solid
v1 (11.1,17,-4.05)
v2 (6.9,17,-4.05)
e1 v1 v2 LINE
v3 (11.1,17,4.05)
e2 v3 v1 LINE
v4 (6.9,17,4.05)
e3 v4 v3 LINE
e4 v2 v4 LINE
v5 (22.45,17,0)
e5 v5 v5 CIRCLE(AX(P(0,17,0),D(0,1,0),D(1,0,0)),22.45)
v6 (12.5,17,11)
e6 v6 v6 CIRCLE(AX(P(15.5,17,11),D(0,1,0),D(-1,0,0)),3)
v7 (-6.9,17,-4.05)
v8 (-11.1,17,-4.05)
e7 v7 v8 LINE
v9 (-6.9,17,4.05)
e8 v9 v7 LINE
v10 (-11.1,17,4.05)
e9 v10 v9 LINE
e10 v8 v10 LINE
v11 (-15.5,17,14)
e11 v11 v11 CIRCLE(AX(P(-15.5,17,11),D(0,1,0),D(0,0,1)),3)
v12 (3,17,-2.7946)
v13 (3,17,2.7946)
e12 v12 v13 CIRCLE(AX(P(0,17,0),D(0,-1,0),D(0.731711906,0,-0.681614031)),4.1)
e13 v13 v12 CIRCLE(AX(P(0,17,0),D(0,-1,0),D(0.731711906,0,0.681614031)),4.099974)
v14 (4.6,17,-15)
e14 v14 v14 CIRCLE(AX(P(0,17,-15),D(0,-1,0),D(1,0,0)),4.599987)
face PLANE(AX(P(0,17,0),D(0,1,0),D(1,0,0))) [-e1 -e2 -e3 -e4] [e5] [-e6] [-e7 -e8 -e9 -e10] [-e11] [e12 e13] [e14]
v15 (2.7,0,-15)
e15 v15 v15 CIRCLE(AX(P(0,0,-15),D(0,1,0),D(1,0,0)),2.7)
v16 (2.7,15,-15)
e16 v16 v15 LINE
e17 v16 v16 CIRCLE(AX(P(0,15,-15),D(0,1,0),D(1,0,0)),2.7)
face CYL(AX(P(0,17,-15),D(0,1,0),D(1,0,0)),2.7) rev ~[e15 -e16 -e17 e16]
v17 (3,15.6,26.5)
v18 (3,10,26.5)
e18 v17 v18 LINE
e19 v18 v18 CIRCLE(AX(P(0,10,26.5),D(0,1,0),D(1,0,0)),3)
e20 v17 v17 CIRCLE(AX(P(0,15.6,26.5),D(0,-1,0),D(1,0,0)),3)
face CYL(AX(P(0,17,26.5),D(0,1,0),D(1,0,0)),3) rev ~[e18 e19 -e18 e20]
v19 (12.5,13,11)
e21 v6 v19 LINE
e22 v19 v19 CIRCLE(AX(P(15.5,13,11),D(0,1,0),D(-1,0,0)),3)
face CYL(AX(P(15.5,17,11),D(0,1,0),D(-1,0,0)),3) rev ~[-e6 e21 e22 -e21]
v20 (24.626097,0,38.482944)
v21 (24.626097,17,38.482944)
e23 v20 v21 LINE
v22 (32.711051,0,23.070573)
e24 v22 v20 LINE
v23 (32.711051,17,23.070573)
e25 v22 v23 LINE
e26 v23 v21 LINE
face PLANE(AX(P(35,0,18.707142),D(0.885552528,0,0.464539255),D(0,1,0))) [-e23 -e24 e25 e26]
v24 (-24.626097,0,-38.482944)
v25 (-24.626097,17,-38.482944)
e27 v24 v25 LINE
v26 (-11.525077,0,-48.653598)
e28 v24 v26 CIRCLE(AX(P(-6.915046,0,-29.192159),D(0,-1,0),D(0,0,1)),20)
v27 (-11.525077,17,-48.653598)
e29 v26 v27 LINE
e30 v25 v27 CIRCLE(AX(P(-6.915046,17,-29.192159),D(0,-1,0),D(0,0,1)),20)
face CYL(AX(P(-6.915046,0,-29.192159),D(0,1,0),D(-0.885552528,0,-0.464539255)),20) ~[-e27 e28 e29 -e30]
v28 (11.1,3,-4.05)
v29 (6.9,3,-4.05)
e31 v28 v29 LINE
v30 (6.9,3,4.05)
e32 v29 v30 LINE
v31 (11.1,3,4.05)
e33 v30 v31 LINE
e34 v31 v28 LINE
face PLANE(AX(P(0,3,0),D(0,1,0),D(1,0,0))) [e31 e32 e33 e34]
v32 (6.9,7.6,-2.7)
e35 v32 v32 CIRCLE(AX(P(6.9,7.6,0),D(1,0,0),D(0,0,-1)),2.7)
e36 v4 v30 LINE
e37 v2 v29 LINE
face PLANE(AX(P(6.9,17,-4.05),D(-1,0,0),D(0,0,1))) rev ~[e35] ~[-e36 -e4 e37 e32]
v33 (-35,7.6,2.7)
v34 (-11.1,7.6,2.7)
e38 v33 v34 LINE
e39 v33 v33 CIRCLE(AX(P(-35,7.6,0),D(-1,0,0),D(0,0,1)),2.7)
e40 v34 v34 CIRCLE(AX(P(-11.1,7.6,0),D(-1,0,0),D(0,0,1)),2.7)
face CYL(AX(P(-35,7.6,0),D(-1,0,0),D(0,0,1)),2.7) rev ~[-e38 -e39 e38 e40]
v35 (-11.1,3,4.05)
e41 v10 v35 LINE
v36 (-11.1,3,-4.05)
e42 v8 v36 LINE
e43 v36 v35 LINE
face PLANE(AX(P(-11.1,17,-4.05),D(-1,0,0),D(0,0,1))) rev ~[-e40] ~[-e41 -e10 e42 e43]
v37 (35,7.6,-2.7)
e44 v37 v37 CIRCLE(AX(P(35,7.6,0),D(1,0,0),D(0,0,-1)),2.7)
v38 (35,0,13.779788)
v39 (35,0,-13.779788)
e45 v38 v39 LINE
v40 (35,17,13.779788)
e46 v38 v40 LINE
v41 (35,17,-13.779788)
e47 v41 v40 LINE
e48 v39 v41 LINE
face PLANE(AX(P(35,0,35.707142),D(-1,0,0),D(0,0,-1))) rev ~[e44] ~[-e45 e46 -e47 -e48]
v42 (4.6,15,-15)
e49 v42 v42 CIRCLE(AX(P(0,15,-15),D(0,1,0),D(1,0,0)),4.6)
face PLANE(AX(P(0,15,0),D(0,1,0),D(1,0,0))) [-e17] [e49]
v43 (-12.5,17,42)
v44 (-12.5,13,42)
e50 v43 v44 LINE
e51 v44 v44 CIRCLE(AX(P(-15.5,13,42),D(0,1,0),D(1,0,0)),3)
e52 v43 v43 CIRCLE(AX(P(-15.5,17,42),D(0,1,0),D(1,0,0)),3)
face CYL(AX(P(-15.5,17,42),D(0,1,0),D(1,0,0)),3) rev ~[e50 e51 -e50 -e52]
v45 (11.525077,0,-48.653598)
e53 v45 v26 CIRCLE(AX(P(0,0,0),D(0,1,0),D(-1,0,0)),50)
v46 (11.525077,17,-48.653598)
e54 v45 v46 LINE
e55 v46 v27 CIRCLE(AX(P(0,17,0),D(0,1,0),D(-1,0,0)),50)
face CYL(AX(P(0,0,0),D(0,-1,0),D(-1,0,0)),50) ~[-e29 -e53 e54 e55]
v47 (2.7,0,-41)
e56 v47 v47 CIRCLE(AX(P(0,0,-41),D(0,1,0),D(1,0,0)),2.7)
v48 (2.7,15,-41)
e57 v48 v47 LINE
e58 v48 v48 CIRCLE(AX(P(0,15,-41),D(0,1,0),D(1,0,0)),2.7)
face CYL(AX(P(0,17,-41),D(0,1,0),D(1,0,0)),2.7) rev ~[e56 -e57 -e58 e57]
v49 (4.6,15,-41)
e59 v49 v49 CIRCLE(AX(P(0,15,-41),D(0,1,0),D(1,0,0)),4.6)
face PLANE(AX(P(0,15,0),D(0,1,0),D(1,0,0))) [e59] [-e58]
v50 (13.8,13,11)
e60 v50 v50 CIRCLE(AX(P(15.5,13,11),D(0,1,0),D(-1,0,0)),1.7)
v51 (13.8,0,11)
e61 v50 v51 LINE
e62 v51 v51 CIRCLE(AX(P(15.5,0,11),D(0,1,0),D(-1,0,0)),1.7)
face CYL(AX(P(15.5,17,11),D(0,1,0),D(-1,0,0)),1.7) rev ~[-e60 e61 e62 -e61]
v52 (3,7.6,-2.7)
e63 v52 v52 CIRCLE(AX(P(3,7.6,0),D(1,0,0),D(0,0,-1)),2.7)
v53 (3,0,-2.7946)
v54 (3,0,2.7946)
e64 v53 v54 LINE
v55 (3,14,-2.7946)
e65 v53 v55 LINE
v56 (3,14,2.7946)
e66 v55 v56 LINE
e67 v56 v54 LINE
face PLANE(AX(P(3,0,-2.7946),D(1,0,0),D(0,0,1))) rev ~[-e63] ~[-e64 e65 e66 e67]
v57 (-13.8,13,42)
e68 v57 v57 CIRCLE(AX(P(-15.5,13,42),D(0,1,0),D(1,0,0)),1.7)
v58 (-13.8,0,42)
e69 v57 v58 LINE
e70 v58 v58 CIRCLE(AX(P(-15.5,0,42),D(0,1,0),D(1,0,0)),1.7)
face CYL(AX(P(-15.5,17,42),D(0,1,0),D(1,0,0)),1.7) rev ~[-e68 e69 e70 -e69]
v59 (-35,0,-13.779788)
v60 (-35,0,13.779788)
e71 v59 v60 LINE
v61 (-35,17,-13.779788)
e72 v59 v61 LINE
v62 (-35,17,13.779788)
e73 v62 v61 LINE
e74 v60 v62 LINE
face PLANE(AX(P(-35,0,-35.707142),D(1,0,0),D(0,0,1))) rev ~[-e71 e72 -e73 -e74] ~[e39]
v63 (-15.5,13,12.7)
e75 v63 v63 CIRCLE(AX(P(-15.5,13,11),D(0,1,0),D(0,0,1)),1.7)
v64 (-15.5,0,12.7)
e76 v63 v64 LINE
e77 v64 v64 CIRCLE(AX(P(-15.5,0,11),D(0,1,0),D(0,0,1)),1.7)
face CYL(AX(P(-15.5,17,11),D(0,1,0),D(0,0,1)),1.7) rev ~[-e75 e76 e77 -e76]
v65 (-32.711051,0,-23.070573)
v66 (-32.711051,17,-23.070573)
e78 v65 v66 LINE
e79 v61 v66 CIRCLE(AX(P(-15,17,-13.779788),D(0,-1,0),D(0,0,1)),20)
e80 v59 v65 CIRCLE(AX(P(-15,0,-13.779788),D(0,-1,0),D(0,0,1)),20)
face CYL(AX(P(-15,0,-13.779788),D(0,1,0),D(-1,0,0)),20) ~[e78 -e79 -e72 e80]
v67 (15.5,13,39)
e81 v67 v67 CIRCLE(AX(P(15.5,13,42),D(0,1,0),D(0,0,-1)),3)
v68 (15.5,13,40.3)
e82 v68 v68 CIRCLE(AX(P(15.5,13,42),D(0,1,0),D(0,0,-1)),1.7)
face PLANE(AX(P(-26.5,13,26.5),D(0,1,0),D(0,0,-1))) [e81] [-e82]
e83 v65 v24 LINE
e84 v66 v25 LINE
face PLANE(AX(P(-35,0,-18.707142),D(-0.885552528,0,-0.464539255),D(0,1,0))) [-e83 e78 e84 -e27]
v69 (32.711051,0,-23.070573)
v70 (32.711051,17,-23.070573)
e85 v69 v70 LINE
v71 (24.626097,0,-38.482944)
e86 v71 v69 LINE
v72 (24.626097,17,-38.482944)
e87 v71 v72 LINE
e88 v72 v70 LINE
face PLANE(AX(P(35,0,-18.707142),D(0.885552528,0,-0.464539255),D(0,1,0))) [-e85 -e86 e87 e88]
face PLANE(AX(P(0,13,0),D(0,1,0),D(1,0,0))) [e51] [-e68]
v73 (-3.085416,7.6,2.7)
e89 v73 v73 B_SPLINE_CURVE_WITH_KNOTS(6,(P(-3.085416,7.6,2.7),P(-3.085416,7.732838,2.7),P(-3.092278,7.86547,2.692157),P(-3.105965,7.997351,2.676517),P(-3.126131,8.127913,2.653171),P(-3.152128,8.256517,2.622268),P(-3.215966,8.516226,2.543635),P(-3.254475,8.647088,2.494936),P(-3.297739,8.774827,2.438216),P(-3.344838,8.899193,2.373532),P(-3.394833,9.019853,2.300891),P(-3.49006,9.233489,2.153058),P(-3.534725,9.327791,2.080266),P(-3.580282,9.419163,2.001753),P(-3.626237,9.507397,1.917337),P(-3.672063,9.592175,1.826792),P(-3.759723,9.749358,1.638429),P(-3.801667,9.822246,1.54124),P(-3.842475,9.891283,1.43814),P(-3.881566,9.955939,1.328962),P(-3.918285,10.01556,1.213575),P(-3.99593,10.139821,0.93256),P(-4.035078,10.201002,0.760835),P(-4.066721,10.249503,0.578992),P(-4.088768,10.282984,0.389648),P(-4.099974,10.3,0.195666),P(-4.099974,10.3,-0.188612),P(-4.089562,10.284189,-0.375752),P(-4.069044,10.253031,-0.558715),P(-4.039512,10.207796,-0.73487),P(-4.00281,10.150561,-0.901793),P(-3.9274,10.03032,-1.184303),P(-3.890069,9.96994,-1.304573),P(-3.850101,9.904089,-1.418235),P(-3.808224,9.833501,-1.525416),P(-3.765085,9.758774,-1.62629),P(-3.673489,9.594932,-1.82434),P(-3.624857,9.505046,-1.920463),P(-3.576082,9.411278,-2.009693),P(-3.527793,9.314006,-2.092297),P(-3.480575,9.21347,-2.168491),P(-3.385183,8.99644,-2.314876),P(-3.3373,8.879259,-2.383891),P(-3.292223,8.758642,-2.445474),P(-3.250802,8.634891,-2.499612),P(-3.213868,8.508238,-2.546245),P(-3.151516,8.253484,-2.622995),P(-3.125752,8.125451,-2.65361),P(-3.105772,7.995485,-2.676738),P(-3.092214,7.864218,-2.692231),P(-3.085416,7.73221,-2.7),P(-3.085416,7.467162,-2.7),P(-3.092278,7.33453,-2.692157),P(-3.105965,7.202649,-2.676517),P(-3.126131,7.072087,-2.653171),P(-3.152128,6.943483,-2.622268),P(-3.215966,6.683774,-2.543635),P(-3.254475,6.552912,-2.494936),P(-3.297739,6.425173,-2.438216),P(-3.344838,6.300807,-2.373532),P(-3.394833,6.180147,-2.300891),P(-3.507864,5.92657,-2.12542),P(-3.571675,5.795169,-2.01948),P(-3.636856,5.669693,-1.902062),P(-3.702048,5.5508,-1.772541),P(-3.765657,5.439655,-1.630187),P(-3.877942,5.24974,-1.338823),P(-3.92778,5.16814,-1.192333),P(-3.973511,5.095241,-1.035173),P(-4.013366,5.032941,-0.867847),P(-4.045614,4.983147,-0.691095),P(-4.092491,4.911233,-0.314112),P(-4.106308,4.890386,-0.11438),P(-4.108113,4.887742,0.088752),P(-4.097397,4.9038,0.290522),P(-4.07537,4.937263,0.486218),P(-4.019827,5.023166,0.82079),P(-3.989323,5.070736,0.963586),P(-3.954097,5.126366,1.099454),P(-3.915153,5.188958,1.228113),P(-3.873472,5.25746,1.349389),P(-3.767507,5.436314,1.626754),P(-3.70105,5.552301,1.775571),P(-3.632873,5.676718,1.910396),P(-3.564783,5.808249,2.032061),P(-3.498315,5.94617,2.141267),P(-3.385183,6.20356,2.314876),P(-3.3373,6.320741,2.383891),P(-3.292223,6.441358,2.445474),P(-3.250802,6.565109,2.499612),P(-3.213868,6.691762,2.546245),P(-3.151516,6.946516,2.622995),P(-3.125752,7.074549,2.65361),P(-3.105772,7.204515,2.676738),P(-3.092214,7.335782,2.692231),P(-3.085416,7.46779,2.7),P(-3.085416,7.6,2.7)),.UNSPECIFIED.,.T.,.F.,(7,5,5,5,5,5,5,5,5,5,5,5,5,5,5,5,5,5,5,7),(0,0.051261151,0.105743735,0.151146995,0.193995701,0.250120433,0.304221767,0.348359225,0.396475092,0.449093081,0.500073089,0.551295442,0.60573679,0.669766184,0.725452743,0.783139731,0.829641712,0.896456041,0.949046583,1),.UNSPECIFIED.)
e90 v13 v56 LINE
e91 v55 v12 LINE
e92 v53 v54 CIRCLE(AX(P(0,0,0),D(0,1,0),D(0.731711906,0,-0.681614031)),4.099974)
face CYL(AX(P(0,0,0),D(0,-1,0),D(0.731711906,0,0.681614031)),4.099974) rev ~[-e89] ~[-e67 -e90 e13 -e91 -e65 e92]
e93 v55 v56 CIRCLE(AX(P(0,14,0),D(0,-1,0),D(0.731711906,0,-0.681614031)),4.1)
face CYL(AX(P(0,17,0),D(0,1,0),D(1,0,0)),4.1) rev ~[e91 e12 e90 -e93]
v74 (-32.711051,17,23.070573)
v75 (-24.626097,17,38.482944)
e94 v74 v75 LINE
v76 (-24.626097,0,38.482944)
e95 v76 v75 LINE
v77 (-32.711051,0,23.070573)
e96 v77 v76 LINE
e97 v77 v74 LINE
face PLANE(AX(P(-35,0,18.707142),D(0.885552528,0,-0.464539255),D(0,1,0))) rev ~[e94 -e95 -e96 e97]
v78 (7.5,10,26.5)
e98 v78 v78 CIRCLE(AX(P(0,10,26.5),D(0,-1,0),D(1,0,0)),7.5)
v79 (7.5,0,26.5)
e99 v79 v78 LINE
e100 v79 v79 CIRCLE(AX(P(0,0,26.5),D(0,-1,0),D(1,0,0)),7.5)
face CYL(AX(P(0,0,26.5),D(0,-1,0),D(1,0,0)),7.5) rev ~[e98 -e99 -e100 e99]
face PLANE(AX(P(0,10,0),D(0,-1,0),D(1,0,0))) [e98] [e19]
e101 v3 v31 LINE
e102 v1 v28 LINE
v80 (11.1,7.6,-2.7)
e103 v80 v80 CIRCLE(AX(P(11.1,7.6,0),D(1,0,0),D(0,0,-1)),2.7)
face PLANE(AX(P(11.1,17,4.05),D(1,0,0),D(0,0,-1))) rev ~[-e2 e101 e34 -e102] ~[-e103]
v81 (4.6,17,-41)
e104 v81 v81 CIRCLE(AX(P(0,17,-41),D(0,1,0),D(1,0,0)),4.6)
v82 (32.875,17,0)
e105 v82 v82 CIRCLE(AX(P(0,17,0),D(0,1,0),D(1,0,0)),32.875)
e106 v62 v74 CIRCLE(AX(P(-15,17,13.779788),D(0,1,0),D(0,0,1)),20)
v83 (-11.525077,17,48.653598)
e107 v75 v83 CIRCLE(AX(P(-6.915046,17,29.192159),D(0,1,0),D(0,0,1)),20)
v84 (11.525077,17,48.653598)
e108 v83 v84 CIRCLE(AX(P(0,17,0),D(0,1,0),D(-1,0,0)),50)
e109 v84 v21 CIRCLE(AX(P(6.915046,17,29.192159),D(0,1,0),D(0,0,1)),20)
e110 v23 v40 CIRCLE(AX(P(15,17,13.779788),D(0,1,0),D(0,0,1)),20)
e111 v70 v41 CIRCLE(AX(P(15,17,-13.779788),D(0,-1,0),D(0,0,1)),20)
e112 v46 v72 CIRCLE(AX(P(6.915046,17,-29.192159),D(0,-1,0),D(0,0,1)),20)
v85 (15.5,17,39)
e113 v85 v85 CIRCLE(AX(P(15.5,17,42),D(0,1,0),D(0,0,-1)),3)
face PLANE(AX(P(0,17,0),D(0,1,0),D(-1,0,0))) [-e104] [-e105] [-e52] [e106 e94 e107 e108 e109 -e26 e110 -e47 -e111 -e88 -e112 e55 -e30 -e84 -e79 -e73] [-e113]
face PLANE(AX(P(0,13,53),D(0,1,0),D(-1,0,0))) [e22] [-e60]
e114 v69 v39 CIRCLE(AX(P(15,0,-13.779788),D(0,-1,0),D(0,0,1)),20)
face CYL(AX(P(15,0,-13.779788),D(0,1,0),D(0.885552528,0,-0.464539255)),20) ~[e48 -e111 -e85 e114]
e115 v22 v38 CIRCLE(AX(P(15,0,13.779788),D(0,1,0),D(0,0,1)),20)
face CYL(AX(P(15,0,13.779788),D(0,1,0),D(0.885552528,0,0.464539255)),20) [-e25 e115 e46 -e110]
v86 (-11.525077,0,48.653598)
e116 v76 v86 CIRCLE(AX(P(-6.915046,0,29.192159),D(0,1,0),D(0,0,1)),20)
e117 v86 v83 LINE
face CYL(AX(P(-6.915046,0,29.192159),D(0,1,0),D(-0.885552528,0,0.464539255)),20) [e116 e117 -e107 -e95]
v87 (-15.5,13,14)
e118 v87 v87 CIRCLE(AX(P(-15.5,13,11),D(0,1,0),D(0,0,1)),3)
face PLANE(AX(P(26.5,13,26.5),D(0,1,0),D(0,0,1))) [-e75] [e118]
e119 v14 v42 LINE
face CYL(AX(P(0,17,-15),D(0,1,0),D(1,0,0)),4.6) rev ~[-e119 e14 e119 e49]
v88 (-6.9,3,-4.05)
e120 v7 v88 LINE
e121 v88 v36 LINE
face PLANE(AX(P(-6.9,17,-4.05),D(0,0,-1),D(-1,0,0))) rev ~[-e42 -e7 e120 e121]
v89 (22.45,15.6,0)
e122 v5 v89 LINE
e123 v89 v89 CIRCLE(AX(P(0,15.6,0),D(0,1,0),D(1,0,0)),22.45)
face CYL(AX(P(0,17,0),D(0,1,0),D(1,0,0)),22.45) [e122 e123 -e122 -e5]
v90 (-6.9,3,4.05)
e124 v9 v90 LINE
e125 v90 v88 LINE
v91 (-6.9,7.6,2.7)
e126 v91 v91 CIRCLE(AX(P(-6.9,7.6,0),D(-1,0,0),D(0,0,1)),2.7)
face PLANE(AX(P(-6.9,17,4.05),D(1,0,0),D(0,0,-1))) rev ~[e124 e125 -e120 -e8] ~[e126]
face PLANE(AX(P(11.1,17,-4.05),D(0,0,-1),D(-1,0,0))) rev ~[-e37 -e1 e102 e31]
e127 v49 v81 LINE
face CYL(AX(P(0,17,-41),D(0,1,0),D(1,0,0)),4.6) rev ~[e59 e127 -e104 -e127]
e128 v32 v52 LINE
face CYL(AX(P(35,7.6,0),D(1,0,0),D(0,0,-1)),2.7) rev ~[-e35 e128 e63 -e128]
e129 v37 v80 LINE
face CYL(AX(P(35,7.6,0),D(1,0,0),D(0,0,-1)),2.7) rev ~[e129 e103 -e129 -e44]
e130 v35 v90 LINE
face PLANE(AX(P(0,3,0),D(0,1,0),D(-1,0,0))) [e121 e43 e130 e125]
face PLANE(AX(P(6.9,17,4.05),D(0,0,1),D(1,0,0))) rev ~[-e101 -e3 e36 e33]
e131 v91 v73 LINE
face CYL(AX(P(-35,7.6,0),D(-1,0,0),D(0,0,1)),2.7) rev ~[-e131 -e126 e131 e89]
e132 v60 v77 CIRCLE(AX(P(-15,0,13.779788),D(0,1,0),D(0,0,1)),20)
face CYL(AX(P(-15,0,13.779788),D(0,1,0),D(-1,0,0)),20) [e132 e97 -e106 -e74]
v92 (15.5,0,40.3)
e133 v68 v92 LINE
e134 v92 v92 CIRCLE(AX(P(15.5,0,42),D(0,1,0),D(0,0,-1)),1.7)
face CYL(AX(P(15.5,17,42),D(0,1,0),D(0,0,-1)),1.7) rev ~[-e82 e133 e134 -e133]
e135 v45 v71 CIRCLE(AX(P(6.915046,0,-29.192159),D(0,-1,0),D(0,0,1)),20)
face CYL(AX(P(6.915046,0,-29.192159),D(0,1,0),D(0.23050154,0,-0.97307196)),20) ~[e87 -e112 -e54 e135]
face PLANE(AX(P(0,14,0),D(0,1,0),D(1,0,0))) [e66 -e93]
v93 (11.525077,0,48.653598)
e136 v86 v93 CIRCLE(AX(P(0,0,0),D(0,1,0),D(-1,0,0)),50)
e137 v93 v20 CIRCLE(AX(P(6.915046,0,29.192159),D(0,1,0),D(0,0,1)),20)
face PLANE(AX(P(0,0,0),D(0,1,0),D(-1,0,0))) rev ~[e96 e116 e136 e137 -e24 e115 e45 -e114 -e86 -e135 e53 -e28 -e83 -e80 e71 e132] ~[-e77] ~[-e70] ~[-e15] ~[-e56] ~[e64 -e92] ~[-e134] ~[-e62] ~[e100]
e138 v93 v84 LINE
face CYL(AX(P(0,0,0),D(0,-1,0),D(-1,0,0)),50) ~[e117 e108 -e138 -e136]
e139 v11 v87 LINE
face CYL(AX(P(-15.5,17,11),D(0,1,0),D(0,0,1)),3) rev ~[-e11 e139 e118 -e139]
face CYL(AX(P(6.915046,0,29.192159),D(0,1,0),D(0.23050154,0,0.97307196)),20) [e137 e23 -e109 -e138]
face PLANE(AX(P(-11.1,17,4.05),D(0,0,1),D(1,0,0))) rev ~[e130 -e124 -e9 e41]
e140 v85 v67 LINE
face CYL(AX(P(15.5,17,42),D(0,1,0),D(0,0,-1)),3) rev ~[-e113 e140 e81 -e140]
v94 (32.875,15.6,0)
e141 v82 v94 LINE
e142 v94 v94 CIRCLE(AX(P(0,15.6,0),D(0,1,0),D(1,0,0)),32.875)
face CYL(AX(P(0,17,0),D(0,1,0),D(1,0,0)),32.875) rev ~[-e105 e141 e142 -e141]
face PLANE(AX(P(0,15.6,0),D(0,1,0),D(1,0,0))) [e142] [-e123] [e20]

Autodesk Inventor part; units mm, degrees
ref_plane "YZ Plane" through (0, 0, 0) normal (1, 0, 0) x (0, 1, 0)
ref_plane "XZ Plane" through (0, 0, 0) normal (0, 1, 0) x (-1, 0, 0)
ref_plane "XY Plane" through (0, 0, 0) normal (0, 0, 1) x (1, 0, 0)
sketch "Boceto1" plane through (0, 0, 0) normal (0, 1, 0) x (-1, 0, 0)
  circle A0 centre (0, 0) radius 19.876
  circle A1 centre (0, 0) radius 32.85
  circle A2 centre (0, 0) radius 50
  dimension "d0" = 65.7
  dimension "d1" = 100
extrude "Extrusión1" add sketch "Boceto1" along normal blind 17 contours A0 | A1 | A2
sketch "Boceto2" plane through (0, 17, 0) normal (0, 1, 0) x (1, 0, 0)
  circle A0 centre (0, 0) radius 32.875
  circle A1 centre (0, 0) radius 22.45
  dimension "d4" = 65.75
  dimension "d5" = 44.9
extrude "Extrusión2" cut sketch "Boceto2" against normal blind 1.4
sketch "Boceto3" plane through (0, 17, 0) normal (0, 1, 0) x (1, 0, 0)
  circle A0 centre (0, 0) radius 22.45 projected
extrude "Extrusión3" add sketch "Boceto3" along normal blind 1
sketch "Boceto4" plane through (0, 18, 0) normal (0, 1, 0) x (1, 0, 0)
  circle A0 centre (0, 0) radius 4
  line L0 (2.9, -2.755) -> (2.9, 2.755)
  dimension "d11" = 8
  dimension "d12" = 2.9
extrude "Extrusión4" cut sketch "Boceto4" against normal through all contours L0 A0 picked at (-0.156, 0.667)
sketch "Boceto5" plane through (0, 18, 0) normal (0, 1, 0) x (1, 0, 0)
  arc A0 (2.9, 2.755) -> (2.9, -2.755) centre (0, 0) ccw projected
  line L0 (2.9, 2.755) -> (2.9, -2.755) projected
  arc A1 (3, 2.7946) -> (3, -2.7946) centre (0, 0) ccw
  line L1 (3, 2.7946) -> (3, -2.7946)
  dimension "d15" = 0.1
extrude "Extrusión5" cut sketch "Boceto5" against normal through all contours L0 A0 | L1 A1
sketch "Boceto6" plane through (0, 0, 0) normal (0, -1, 0) x (1, 0, 0)
  line L0 (-35, 64.067) -> (35, 64.067)
  line L1 (35, 64.067) -> (35, -64.067)
  line L2 (35, -64.067) -> (-35, -64.067)
  line L3 (-35, -64.067) -> (-35, 64.067)
  line L4 (-35, 64.067) -> (35, -64.067) construction
  line L5 (35, 64.067) -> (-35, -64.067) construction
  arc A0 (3, 2.7946) -> (3, -2.7946) centre (0, 0) ccw projected
  line L6 (3, 2.7946) -> (3, -2.7946) projected
  circle A1 centre (0, 0) radius 50 projected
  point P0 (0, 0)
  point P1 (-35, 35.7071)
  point P2 (-35, -35.7071)
  point P3 (35, 35.7071)
  point P4 (35, -35.7071)
  dimension "d19" = 70
extrude "Extrusión6" cut sketch "Boceto6" against normal through all contours L3 A1 | A1 L1
chamfer "Chaflán1" distance 17 angle 45 4 edges at (-35, 8.5, 35.7071) (-35, 8.5, -35.7071) (35, 8.5, -35.7071) (35, 8.5, 35.7071)
fillet "Empalme2" radius 20 8 edges at (-21.0133, 8.5, -45.3701) (-21.0133, 8.5, 45.3701) (-35, 8.5, -18.7071) (-35, 8.5, 18.7071) (21.0133, 8.5, -45.3701) (21.0133, 8.5, 45.3701) (35, 8.5, -18.7071) (35, 8.5, 18.7071)
sketch "Boceto8" plane through (0, 18, 0) normal (0, 1, 0) x (1, 0, 0)
  arc A0 (3, 2.7946) -> (3, -2.7946) centre (0, 0) ccw projected
  line L0 (3, 2.7946) -> (3, -2.7946) projected
sketch "Boceto9" plane through (0, 17, 0) normal (0, 1, 0) x (1, 0, 0)
  circle A0 centre (0, 41) radius 2.7
  circle A1 centre (0, 15) radius 2.7
  circle A2 centre (0, -15) radius 2.7
  point P0 (0, 0)
  dimension "d30" = 5.4
  dimension "d31" = 5.4
  dimension "d32" = 15
  dimension "d33" = 26
  dimension "d45" = 15
extrude "Extrusión8" cut sketch "Boceto9" along normal blind 15 and the other way blind 27.75
sketch "Boceto13" plane through (0, 17, 0) normal (0, 1, 0) x (1, 0, 0)
  circle A0 centre (0, 41) radius 2.7 projected
  circle A1 centre (0, 41) radius 4.6
  circle A2 centre (0, 15) radius 2.7 projected
  circle A3 centre (0, 15) radius 4.6
  circle A4 centre (0, -15) radius 2.7 projected
  circle A5 centre (0, -15) radius 4.6
  point P0 (0, 0)
  dimension "d38" = 9.2
  dimension "d39" = 9.2
extrude "Extrusión9" cut sketch "Boceto13" along normal blind 2 and the other way blind 2 contours A0 | A1 | A3 | A4 | A5
sketch "Boceto14" plane through (0, 18, 0) normal (0, 1, 0) x (1, 0, 0)
  circle A0 centre (0, 0) radius 9
  dimension "d46" = 18
extrude "Extrusión10" add sketch "Boceto14" along normal blind 2.5
sketch "Boceto15" plane through (0, 0, 0) normal (0, -1, 0) x (1, 0, 0)
  line L0 (3, -2.7946) -> (3, 2.7946) projected
  arc A0 (3, 2.7946) -> (3, -2.7946) centre (0, 0) ccw projected
extrude "Extrusión11" cut sketch "Boceto15" against normal through all
fillet "Empalme3" radius 2 1 edges at (-9, 18, 0)
sketch "Boceto16" plane through (0, 20.5, 0) normal (0, 1, 0) x (1, 0, 0)
  circle A0 centre (0, 0) radius 4.15
extrude "Extrusión12" cut sketch "Boceto16" against normal blind 2
sketch "Boceto17" plane through (0, 18, 0) normal (0, 1, 0) x (1, 0, 0)
  arc A0 (1.9376, -10.828) -> (1.9376, 10.828) centre (0, 0) ccw projected
  arc A1 (-1.9376, -10.828) -> (1.9376, -10.828) centre (0, -15) ccw projected
  arc A2 (-1.9376, 10.828) -> (-1.9376, -10.828) centre (0, 0) ccw projected
  arc A3 (1.9376, 10.828) -> (-1.9376, 10.828) centre (0, 15) ccw projected
  circle A4 centre (0, 0) radius 22.45 projected
extrude "Extrusión13" cut sketch "Boceto17" against normal up to surface (1 mm away)
sketch "Boceto18" plane through (0, 17, 0) normal (0, 1, 0) x (1, 0, 0)
  circle A0 centre (0, 0) radius 13.4678
extrude "Extrusión14" cut sketch "Boceto18" along normal blind 17.5
sketch "Boceto19" plane through (0, 17, 0) normal (0, 1, 0) x (1, 0, 0)
  circle A0 centre (0, 0) radius 4.1
  arc A1 (3, 2.7946) -> (3, -2.7946) centre (0, 0) ccw projected
extrude "Extrusión15" cut sketch "Boceto19" against normal blind 3
sketch "Boceto20" plane through (0, 17, 0) normal (0, 1, 0) x (1, 0, 0)
  circle A0 centre (-15.5, -42) radius 1.7
  point P0 (0, 0)
  point P1 (0, -26.5)
  dimension "d60" = 15.5
  dimension "d61" = 15.5
  dimension "d62" = 3.4
  dimension "d84" = 42
extrude "Extrusión16" cut sketch "Boceto20" against normal through all
sketch "Boceto21" plane through (0, 17, 0) normal (0, 1, 0) x (1, 0, 0)
  line L0 (11.1, 4.05) -> (6.9, 4.05)
  line L1 (6.9, 4.05) -> (6.9, -4.05)
  line L2 (6.9, -4.05) -> (11.1, -4.05)
  line L3 (11.1, -4.05) -> (11.1, 4.05)
  line L4 (11.1, 4.05) -> (6.9, -4.05) construction
  line L5 (6.9, 4.05) -> (11.1, -4.05) construction
  point P0 (0, 0)
  point P1 (9, 0)
  dimension "d65" = 8.1
  dimension "d66" = 4.2
  dimension "d107" = 9
extrude "Extrusión17" cut sketch "Boceto21" against normal blind 14
sketch "Boceto22" plane through (35, 0, 13.7798) normal (1, 0, 0) x (0, 0, -1)
  circle A0 centre (13.7798, 7.6) radius 2.7
  line L0 (17.8298, 3) -> (9.7298, 3) projected
  point P0 (13.7798, 0)
  point P1 (13.7798, 3)
  dimension "d69" = 5.4
  dimension "d70" = 4.6
extrude "Extrusión18" cut sketch "Boceto22" against normal blind 35.25
sketch "Boceto23" plane through (0, 17, 0) normal (0, 1, 0) x (1, 0, 0)
  circle A0 centre (0, -26.5) radius 3
  circle A1 centre (-15.5, -42) radius 1.7 projected
  point P0 (0, 0)
  dimension "d73" = 15.5
  dimension "d74" = 15.5
  dimension "d81" = 6
extrude "Extrusión20" cut sketch "Boceto23" against normal through all contours A0
sketch "Boceto24" plane through (0, 17, 0) normal (0, 1, 0) x (1, 0, 0)
  circle A0 centre (-15.5, -42) radius 1.7 projected
  circle A1 centre (-15.5, -42) radius 3
  point P0 (0, 0)
  dimension "d78" = 6
extrude "Extrusión19" cut sketch "Boceto24" against normal blind 4
pattern_circular "Patrón circular1" count 4 over 360 about axis through (0, 17, 26.5) along (0, 1, 0) of "Extrusión16", "Extrusión20", "Extrusión19"
sketch "Boceto33" plane through (0, 0, 0) normal (0, -1, 0) x (1, 0, 0)
  circle A0 centre (0, 26.5) radius 3 projected
  circle A1 centre (0, 26.5) radius 7.5
  point P0 (0, 0)
  dimension "d114" = 15
extrude "Extrusión28" cut sketch "Boceto33" against normal blind 10 contours A0 | A1
sketch "Boceto34" plane through (0, 0, 0) normal (0, -1, 0) x (1, 0, 0)
  circle A0 centre (0, 15) radius 2.7 projected
  point P0 (0, 0)
extrude "Extrusión29" add sketch "Boceto34" against normal up to surface (17 mm away)
sketch "Boceto35" plane through (0, 17, 0) normal (0, 1, 0) x (1, 0, 0)
  circle A0 centre (0, -15) radius 4.6 projected
  point P0 (0, 0)
extrude "Extrusión30" add sketch "Boceto35" against normal blind 3.75
pattern_circular "Patrón circular2" count 2 over 360 about axis through (0, 18, 0) along (0, -1, 0) of "Extrusión17", "Extrusión18"
sketch "Boceto30" plane through (0, 17, 0) normal (0, 1, 0) x (1, 0, 0)
  circle A0 centre (0, 0) radius 6.9
sketch "Boceto31" plane through (0, 17, 0) normal (0, 1, 0) x (1, 0, 0)
  circle A0 centre (0, 0) radius 6.9 projected
  circle A1 centre (0, 0) radius 4.1 projected
sketch "Boceto32" plane through (0, 14, 0) normal (0, 1, 0) x (0, 0, -1)
  line L0 (-2.7946, -3) -> (2.7946, -3) projected
  arc A0 (-2.7946, -3) -> (2.7946, -3) centre (0, 0) ccw projected
sketch "Boceto26" plane through (0, 17, 0) normal (0, 1, 0) x (1, 0, 0)
  line L0 (24, -87.6765) -> (-24, -87.6765)
  line L1 (-24, -87.6765) -> (-24, -39.6765)
  line L2 (-24, -39.6765) -> (24, -39.6765)
  line L3 (24, -39.6765) -> (24, -87.6765)
  line L4 (24, -87.6765) -> (-24, -39.6765) construction
  line L5 (-24, -87.6765) -> (24, -39.6765) construction
  line L6 (32.7111, -23.0706) -> (24.6261, -38.4829) projected
  point P0 (0, 0)
  point P1 (0, -63.6765)
  point P2 (0, -63.6765)
  dimension "d85" = 48
  dimension "d86" = 48
sketch "Boceto27" plane through (0, 17, 0) normal (0, 1, 0) x (1, 0, 0)
  circle A0 centre (0, -63.6765) radius 3
  line L0 (-19, -87.6765) -> (19, -87.6765) projected
  circle A1 centre (-15.5, -79.4365) radius 1.7
  circle A2 centre (-15.5, -48.4365) radius 1.7
  circle A3 centre (15.5, -79.4365) radius 1.7
  circle A4 centre (15.5, -48.4365) radius 1.7
  point P0 (0, 0)
  dimension "d90" = 6
  dimension "d91" = 24
  dimension "d92" = 3.4
  dimension "d93" = 15.5
  dimension "d94" = 31
  dimension "d95" = 15.5
sketch "Boceto28" plane through (0, 17, 0) normal (0, 1, 0) x (1, 0, 0)
  line L0 (-13.8, -83.4365) -> (-17.2, -83.4365)
  line L1 (-17.2, -83.4365) -> (-17.2, -75.4365)
  line L2 (-17.2, -75.4365) -> (-13.8, -75.4365)
  line L3 (-13.8, -75.4365) -> (-13.8, -83.4365)
  circle A0 centre (-15.5, -79.4365) radius 1.7 projected
  line L4 (-13.8, -83.4365) -> (-17.2, -75.4365) construction
  line L5 (-17.2, -83.4365) -> (-13.8, -75.4365) construction
  line L6 (-13.8, -52.4365) -> (-17.2, -52.4365)
  line L7 (-17.2, -52.4365) -> (-17.2, -44.4365)
  line L8 (-17.2, -44.4365) -> (-13.8, -44.4365)
  line L9 (-13.8, -44.4365) -> (-13.8, -52.4365)
  circle A1 centre (-15.5, -48.4365) radius 1.7 projected
  line L10 (-13.8, -52.4365) -> (-17.2, -44.4365) construction
  line L11 (-17.2, -52.4365) -> (-13.8, -44.4365) construction
  line L12 (3, -67.6765) -> (-3, -67.6765)
  line L13 (-3, -67.6765) -> (-3, -59.6765)
  line L14 (-3, -59.6765) -> (3, -59.6765)
  line L15 (3, -59.6765) -> (3, -67.6765)
  circle A2 centre (0, -63.6765) radius 3 projected
  line L16 (3, -67.6765) -> (-3, -59.6765) construction
  line L17 (-3, -67.6765) -> (3, -59.6765) construction
  line L18 (17.2, -52.4365) -> (13.8, -52.4365)
  line L19 (13.8, -52.4365) -> (13.8, -44.4365)
  line L20 (13.8, -44.4365) -> (17.2, -44.4365)
  line L21 (17.2, -44.4365) -> (17.2, -52.4365)
  circle A3 centre (15.5, -48.4365) radius 1.7 projected
  line L22 (17.2, -52.4365) -> (13.8, -44.4365) construction
  line L23 (13.8, -52.4365) -> (17.2, -44.4365) construction
  line L24 (17.2, -83.4365) -> (13.8, -83.4365)
  line L25 (13.8, -83.4365) -> (13.8, -75.4365)
  line L26 (13.8, -75.4365) -> (17.2, -75.4365)
  line L27 (17.2, -75.4365) -> (17.2, -83.4365)
  circle A4 centre (15.5, -79.4365) radius 1.7 projected
  line L28 (17.2, -83.4365) -> (13.8, -75.4365) construction
  line L29 (13.8, -83.4365) -> (17.2, -75.4365) construction
  circle A5 centre (-15.5, -83.4365) radius 1.7
  circle A6 centre (-15.5, -75.4365) radius 1.7
  circle A7 centre (-15.5, -52.4365) radius 1.7
  circle A8 centre (-15.5, -44.4365) radius 1.7
  circle A9 centre (15.5, -52.4365) radius 1.7
  circle A10 centre (15.5, -44.4365) radius 1.7
  circle A11 centre (15.5, -83.4365) radius 1.7
  circle A12 centre (15.5, -75.4365) radius 1.7
  circle A13 centre (-15.5, -79.4365) radius 1.7 projected
  circle A14 centre (0, -67.6765) radius 3
  circle A15 centre (0, -59.6765) radius 3
  point P0 (0, 0)
  dimension "d98" = 8
sketch "Boceto29" plane through (0, 17, 0) normal (0, 1, 0) x (1, 0, 0)
  line L0 (17.2, -44.4365) -> (17.2, -52.4365) projected
  arc A0 (13.8, -52.4365) -> (17.2, -52.4365) centre (15.5, -52.4365) ccw projected
  line L1 (13.8, -52.4365) -> (13.8, -44.4365) projected
  arc A1 (17.2, -44.4365) -> (13.8, -44.4365) centre (15.5, -44.4365) ccw projected
  line L2 (13.8, -83.4365) -> (13.8, -75.4365) projected
  arc A2 (17.2, -75.4365) -> (13.8, -75.4365) centre (15.5, -75.4365) ccw projected
  line L3 (17.2, -75.4365) -> (17.2, -83.4365) projected
  arc A3 (13.8, -83.4365) -> (17.2, -83.4365) centre (15.5, -83.4365) ccw projected
  line L4 (3, -59.6765) -> (3, -67.6765) projected
  arc A4 (-3, -67.6765) -> (3, -67.6765) centre (0, -67.6765) ccw projected
  line L5 (-3, -67.6765) -> (-3, -59.6765) projected
  arc A5 (3, -59.6765) -> (-3, -59.6765) centre (0, -59.6765) ccw projected
  line L6 (-17.2, -83.4365) -> (-17.2, -75.4365) projected
  arc A6 (-13.8, -75.4365) -> (-17.2, -75.4365) centre (-15.5, -75.4365) ccw projected
  line L7 (-13.8, -75.4365) -> (-13.8, -83.4365) projected
  arc A7 (-17.2, -83.4365) -> (-13.8, -83.4365) centre (-15.5, -83.4365) ccw projected
  line L8 (-17.2, -52.4365) -> (-17.2, -44.4365) projected
  arc A8 (-13.8, -44.4365) -> (-17.2, -44.4365) centre (-15.5, -44.4365) ccw projected
  line L9 (-13.8, -44.4365) -> (-13.8, -52.4365) projected
  arc A9 (-17.2, -52.4365) -> (-13.8, -52.4365) centre (-15.5, -52.4365) ccw projected
  circle A10 centre (0, 0) radius 32.875 projected
  arc A11 (19, -87.6765) -> (24, -82.6765) centre (19, -82.6765) ccw projected
  line L10 (24, -82.6765) -> (24, -40.4042) projected
  arc A12 (24, -40.4042) -> (23.9468, -39.6765) centre (19, -40.4042) ccw projected
  arc A13 (23.9468, -39.6765) -> (24.6261, -38.4829) centre (6.915, -29.1922) ccw projected
  line L11 (32.7111, -23.0706) -> (24.6261, -38.4829) projected
  arc A14 (32.7111, -23.0706) -> (35, -13.7798) centre (15, -13.7798) ccw projected
  line L12 (35, -13.7798) -> (35, 13.7798) projected
  arc A15 (35, 13.7798) -> (32.7111, 23.0706) centre (15, 13.7798) ccw projected
  line L13 (24.6261, 38.4829) -> (32.7111, 23.0706) projected
  arc A16 (24.6261, 38.4829) -> (11.5251, 48.6536) centre (6.915, 29.1922) ccw projected
  arc A17 (11.5251, 48.6536) -> (-11.5251, 48.6536) centre (0, 0) ccw projected
  arc A18 (-11.5251, 48.6536) -> (-24.6261, 38.4829) centre (-6.915, 29.1922) ccw projected
  line L14 (-32.7111, 23.0706) -> (-24.6261, 38.4829) projected
  arc A19 (-32.7111, 23.0706) -> (-35, 13.7798) centre (-15, 13.7798) ccw projected
  line L15 (-35, 13.7798) -> (-35, -13.7798) projected
  arc A20 (-35, -13.7798) -> (-32.7111, -23.0706) centre (-15, -13.7798) ccw projected
  line L16 (-24.6261, -38.4829) -> (-32.7111, -23.0706) projected
  arc A21 (-24.6261, -38.4829) -> (-23.9468, -39.6765) centre (-6.915, -29.1922) ccw projected
  arc A22 (-23.9468, -39.6765) -> (-24, -40.4042) centre (-19, -40.4042) ccw projected
  line L17 (-24, -40.4042) -> (-24, -82.6765) projected
  arc A23 (-24, -82.6765) -> (-19, -87.6765) centre (-19, -82.6765) ccw projected
  line L18 (-19, -87.6765) -> (19, -87.6765) projected
  circle A24 centre (0, 41) radius 4.6 projected
  line L19 (-18.7, -75.4365) -> (-18.7, -83.4365)
  arc A25 (-18.7, -83.4365) -> (-12.3, -83.4365) centre (-15.5, -83.4365) ccw
  line L20 (-12.3, -83.4365) -> (-12.3, -75.4365)
  arc A26 (-12.3, -75.4365) -> (-18.7, -75.4365) centre (-15.5, -75.4365) ccw
  line L21 (-18.7, -44.4365) -> (-18.7, -52.4365)
  arc A27 (-18.7, -52.4365) -> (-12.3, -52.4365) centre (-15.5, -52.4365) ccw
  line L22 (-12.3, -52.4365) -> (-12.3, -44.4365)
  arc A28 (-12.3, -44.4365) -> (-18.7, -44.4365) centre (-15.5, -44.4365) ccw
  line L23 (12.3, -44.4365) -> (12.3, -52.4365)
  arc A29 (12.3, -52.4365) -> (18.7, -52.4365) centre (15.5, -52.4365) ccw
  line L24 (18.7, -52.4365) -> (18.7, -44.4365)
  arc A30 (18.7, -44.4365) -> (12.3, -44.4365) centre (15.5, -44.4365) ccw
  line L25 (12.3, -75.4365) -> (12.3, -83.4365)
  arc A31 (12.3, -83.4365) -> (18.7, -83.4365) centre (15.5, -83.4365) ccw
  line L26 (18.7, -83.4365) -> (18.7, -75.4365)
  arc A32 (18.7, -75.4365) -> (12.3, -75.4365) centre (15.5, -75.4365) ccw
  dimension "d101" = 1.5
  dimension "d102" = 1.5
  dimension "d103" = 1.5
  dimension "d104" = 1.5
properties part number "Platform"
